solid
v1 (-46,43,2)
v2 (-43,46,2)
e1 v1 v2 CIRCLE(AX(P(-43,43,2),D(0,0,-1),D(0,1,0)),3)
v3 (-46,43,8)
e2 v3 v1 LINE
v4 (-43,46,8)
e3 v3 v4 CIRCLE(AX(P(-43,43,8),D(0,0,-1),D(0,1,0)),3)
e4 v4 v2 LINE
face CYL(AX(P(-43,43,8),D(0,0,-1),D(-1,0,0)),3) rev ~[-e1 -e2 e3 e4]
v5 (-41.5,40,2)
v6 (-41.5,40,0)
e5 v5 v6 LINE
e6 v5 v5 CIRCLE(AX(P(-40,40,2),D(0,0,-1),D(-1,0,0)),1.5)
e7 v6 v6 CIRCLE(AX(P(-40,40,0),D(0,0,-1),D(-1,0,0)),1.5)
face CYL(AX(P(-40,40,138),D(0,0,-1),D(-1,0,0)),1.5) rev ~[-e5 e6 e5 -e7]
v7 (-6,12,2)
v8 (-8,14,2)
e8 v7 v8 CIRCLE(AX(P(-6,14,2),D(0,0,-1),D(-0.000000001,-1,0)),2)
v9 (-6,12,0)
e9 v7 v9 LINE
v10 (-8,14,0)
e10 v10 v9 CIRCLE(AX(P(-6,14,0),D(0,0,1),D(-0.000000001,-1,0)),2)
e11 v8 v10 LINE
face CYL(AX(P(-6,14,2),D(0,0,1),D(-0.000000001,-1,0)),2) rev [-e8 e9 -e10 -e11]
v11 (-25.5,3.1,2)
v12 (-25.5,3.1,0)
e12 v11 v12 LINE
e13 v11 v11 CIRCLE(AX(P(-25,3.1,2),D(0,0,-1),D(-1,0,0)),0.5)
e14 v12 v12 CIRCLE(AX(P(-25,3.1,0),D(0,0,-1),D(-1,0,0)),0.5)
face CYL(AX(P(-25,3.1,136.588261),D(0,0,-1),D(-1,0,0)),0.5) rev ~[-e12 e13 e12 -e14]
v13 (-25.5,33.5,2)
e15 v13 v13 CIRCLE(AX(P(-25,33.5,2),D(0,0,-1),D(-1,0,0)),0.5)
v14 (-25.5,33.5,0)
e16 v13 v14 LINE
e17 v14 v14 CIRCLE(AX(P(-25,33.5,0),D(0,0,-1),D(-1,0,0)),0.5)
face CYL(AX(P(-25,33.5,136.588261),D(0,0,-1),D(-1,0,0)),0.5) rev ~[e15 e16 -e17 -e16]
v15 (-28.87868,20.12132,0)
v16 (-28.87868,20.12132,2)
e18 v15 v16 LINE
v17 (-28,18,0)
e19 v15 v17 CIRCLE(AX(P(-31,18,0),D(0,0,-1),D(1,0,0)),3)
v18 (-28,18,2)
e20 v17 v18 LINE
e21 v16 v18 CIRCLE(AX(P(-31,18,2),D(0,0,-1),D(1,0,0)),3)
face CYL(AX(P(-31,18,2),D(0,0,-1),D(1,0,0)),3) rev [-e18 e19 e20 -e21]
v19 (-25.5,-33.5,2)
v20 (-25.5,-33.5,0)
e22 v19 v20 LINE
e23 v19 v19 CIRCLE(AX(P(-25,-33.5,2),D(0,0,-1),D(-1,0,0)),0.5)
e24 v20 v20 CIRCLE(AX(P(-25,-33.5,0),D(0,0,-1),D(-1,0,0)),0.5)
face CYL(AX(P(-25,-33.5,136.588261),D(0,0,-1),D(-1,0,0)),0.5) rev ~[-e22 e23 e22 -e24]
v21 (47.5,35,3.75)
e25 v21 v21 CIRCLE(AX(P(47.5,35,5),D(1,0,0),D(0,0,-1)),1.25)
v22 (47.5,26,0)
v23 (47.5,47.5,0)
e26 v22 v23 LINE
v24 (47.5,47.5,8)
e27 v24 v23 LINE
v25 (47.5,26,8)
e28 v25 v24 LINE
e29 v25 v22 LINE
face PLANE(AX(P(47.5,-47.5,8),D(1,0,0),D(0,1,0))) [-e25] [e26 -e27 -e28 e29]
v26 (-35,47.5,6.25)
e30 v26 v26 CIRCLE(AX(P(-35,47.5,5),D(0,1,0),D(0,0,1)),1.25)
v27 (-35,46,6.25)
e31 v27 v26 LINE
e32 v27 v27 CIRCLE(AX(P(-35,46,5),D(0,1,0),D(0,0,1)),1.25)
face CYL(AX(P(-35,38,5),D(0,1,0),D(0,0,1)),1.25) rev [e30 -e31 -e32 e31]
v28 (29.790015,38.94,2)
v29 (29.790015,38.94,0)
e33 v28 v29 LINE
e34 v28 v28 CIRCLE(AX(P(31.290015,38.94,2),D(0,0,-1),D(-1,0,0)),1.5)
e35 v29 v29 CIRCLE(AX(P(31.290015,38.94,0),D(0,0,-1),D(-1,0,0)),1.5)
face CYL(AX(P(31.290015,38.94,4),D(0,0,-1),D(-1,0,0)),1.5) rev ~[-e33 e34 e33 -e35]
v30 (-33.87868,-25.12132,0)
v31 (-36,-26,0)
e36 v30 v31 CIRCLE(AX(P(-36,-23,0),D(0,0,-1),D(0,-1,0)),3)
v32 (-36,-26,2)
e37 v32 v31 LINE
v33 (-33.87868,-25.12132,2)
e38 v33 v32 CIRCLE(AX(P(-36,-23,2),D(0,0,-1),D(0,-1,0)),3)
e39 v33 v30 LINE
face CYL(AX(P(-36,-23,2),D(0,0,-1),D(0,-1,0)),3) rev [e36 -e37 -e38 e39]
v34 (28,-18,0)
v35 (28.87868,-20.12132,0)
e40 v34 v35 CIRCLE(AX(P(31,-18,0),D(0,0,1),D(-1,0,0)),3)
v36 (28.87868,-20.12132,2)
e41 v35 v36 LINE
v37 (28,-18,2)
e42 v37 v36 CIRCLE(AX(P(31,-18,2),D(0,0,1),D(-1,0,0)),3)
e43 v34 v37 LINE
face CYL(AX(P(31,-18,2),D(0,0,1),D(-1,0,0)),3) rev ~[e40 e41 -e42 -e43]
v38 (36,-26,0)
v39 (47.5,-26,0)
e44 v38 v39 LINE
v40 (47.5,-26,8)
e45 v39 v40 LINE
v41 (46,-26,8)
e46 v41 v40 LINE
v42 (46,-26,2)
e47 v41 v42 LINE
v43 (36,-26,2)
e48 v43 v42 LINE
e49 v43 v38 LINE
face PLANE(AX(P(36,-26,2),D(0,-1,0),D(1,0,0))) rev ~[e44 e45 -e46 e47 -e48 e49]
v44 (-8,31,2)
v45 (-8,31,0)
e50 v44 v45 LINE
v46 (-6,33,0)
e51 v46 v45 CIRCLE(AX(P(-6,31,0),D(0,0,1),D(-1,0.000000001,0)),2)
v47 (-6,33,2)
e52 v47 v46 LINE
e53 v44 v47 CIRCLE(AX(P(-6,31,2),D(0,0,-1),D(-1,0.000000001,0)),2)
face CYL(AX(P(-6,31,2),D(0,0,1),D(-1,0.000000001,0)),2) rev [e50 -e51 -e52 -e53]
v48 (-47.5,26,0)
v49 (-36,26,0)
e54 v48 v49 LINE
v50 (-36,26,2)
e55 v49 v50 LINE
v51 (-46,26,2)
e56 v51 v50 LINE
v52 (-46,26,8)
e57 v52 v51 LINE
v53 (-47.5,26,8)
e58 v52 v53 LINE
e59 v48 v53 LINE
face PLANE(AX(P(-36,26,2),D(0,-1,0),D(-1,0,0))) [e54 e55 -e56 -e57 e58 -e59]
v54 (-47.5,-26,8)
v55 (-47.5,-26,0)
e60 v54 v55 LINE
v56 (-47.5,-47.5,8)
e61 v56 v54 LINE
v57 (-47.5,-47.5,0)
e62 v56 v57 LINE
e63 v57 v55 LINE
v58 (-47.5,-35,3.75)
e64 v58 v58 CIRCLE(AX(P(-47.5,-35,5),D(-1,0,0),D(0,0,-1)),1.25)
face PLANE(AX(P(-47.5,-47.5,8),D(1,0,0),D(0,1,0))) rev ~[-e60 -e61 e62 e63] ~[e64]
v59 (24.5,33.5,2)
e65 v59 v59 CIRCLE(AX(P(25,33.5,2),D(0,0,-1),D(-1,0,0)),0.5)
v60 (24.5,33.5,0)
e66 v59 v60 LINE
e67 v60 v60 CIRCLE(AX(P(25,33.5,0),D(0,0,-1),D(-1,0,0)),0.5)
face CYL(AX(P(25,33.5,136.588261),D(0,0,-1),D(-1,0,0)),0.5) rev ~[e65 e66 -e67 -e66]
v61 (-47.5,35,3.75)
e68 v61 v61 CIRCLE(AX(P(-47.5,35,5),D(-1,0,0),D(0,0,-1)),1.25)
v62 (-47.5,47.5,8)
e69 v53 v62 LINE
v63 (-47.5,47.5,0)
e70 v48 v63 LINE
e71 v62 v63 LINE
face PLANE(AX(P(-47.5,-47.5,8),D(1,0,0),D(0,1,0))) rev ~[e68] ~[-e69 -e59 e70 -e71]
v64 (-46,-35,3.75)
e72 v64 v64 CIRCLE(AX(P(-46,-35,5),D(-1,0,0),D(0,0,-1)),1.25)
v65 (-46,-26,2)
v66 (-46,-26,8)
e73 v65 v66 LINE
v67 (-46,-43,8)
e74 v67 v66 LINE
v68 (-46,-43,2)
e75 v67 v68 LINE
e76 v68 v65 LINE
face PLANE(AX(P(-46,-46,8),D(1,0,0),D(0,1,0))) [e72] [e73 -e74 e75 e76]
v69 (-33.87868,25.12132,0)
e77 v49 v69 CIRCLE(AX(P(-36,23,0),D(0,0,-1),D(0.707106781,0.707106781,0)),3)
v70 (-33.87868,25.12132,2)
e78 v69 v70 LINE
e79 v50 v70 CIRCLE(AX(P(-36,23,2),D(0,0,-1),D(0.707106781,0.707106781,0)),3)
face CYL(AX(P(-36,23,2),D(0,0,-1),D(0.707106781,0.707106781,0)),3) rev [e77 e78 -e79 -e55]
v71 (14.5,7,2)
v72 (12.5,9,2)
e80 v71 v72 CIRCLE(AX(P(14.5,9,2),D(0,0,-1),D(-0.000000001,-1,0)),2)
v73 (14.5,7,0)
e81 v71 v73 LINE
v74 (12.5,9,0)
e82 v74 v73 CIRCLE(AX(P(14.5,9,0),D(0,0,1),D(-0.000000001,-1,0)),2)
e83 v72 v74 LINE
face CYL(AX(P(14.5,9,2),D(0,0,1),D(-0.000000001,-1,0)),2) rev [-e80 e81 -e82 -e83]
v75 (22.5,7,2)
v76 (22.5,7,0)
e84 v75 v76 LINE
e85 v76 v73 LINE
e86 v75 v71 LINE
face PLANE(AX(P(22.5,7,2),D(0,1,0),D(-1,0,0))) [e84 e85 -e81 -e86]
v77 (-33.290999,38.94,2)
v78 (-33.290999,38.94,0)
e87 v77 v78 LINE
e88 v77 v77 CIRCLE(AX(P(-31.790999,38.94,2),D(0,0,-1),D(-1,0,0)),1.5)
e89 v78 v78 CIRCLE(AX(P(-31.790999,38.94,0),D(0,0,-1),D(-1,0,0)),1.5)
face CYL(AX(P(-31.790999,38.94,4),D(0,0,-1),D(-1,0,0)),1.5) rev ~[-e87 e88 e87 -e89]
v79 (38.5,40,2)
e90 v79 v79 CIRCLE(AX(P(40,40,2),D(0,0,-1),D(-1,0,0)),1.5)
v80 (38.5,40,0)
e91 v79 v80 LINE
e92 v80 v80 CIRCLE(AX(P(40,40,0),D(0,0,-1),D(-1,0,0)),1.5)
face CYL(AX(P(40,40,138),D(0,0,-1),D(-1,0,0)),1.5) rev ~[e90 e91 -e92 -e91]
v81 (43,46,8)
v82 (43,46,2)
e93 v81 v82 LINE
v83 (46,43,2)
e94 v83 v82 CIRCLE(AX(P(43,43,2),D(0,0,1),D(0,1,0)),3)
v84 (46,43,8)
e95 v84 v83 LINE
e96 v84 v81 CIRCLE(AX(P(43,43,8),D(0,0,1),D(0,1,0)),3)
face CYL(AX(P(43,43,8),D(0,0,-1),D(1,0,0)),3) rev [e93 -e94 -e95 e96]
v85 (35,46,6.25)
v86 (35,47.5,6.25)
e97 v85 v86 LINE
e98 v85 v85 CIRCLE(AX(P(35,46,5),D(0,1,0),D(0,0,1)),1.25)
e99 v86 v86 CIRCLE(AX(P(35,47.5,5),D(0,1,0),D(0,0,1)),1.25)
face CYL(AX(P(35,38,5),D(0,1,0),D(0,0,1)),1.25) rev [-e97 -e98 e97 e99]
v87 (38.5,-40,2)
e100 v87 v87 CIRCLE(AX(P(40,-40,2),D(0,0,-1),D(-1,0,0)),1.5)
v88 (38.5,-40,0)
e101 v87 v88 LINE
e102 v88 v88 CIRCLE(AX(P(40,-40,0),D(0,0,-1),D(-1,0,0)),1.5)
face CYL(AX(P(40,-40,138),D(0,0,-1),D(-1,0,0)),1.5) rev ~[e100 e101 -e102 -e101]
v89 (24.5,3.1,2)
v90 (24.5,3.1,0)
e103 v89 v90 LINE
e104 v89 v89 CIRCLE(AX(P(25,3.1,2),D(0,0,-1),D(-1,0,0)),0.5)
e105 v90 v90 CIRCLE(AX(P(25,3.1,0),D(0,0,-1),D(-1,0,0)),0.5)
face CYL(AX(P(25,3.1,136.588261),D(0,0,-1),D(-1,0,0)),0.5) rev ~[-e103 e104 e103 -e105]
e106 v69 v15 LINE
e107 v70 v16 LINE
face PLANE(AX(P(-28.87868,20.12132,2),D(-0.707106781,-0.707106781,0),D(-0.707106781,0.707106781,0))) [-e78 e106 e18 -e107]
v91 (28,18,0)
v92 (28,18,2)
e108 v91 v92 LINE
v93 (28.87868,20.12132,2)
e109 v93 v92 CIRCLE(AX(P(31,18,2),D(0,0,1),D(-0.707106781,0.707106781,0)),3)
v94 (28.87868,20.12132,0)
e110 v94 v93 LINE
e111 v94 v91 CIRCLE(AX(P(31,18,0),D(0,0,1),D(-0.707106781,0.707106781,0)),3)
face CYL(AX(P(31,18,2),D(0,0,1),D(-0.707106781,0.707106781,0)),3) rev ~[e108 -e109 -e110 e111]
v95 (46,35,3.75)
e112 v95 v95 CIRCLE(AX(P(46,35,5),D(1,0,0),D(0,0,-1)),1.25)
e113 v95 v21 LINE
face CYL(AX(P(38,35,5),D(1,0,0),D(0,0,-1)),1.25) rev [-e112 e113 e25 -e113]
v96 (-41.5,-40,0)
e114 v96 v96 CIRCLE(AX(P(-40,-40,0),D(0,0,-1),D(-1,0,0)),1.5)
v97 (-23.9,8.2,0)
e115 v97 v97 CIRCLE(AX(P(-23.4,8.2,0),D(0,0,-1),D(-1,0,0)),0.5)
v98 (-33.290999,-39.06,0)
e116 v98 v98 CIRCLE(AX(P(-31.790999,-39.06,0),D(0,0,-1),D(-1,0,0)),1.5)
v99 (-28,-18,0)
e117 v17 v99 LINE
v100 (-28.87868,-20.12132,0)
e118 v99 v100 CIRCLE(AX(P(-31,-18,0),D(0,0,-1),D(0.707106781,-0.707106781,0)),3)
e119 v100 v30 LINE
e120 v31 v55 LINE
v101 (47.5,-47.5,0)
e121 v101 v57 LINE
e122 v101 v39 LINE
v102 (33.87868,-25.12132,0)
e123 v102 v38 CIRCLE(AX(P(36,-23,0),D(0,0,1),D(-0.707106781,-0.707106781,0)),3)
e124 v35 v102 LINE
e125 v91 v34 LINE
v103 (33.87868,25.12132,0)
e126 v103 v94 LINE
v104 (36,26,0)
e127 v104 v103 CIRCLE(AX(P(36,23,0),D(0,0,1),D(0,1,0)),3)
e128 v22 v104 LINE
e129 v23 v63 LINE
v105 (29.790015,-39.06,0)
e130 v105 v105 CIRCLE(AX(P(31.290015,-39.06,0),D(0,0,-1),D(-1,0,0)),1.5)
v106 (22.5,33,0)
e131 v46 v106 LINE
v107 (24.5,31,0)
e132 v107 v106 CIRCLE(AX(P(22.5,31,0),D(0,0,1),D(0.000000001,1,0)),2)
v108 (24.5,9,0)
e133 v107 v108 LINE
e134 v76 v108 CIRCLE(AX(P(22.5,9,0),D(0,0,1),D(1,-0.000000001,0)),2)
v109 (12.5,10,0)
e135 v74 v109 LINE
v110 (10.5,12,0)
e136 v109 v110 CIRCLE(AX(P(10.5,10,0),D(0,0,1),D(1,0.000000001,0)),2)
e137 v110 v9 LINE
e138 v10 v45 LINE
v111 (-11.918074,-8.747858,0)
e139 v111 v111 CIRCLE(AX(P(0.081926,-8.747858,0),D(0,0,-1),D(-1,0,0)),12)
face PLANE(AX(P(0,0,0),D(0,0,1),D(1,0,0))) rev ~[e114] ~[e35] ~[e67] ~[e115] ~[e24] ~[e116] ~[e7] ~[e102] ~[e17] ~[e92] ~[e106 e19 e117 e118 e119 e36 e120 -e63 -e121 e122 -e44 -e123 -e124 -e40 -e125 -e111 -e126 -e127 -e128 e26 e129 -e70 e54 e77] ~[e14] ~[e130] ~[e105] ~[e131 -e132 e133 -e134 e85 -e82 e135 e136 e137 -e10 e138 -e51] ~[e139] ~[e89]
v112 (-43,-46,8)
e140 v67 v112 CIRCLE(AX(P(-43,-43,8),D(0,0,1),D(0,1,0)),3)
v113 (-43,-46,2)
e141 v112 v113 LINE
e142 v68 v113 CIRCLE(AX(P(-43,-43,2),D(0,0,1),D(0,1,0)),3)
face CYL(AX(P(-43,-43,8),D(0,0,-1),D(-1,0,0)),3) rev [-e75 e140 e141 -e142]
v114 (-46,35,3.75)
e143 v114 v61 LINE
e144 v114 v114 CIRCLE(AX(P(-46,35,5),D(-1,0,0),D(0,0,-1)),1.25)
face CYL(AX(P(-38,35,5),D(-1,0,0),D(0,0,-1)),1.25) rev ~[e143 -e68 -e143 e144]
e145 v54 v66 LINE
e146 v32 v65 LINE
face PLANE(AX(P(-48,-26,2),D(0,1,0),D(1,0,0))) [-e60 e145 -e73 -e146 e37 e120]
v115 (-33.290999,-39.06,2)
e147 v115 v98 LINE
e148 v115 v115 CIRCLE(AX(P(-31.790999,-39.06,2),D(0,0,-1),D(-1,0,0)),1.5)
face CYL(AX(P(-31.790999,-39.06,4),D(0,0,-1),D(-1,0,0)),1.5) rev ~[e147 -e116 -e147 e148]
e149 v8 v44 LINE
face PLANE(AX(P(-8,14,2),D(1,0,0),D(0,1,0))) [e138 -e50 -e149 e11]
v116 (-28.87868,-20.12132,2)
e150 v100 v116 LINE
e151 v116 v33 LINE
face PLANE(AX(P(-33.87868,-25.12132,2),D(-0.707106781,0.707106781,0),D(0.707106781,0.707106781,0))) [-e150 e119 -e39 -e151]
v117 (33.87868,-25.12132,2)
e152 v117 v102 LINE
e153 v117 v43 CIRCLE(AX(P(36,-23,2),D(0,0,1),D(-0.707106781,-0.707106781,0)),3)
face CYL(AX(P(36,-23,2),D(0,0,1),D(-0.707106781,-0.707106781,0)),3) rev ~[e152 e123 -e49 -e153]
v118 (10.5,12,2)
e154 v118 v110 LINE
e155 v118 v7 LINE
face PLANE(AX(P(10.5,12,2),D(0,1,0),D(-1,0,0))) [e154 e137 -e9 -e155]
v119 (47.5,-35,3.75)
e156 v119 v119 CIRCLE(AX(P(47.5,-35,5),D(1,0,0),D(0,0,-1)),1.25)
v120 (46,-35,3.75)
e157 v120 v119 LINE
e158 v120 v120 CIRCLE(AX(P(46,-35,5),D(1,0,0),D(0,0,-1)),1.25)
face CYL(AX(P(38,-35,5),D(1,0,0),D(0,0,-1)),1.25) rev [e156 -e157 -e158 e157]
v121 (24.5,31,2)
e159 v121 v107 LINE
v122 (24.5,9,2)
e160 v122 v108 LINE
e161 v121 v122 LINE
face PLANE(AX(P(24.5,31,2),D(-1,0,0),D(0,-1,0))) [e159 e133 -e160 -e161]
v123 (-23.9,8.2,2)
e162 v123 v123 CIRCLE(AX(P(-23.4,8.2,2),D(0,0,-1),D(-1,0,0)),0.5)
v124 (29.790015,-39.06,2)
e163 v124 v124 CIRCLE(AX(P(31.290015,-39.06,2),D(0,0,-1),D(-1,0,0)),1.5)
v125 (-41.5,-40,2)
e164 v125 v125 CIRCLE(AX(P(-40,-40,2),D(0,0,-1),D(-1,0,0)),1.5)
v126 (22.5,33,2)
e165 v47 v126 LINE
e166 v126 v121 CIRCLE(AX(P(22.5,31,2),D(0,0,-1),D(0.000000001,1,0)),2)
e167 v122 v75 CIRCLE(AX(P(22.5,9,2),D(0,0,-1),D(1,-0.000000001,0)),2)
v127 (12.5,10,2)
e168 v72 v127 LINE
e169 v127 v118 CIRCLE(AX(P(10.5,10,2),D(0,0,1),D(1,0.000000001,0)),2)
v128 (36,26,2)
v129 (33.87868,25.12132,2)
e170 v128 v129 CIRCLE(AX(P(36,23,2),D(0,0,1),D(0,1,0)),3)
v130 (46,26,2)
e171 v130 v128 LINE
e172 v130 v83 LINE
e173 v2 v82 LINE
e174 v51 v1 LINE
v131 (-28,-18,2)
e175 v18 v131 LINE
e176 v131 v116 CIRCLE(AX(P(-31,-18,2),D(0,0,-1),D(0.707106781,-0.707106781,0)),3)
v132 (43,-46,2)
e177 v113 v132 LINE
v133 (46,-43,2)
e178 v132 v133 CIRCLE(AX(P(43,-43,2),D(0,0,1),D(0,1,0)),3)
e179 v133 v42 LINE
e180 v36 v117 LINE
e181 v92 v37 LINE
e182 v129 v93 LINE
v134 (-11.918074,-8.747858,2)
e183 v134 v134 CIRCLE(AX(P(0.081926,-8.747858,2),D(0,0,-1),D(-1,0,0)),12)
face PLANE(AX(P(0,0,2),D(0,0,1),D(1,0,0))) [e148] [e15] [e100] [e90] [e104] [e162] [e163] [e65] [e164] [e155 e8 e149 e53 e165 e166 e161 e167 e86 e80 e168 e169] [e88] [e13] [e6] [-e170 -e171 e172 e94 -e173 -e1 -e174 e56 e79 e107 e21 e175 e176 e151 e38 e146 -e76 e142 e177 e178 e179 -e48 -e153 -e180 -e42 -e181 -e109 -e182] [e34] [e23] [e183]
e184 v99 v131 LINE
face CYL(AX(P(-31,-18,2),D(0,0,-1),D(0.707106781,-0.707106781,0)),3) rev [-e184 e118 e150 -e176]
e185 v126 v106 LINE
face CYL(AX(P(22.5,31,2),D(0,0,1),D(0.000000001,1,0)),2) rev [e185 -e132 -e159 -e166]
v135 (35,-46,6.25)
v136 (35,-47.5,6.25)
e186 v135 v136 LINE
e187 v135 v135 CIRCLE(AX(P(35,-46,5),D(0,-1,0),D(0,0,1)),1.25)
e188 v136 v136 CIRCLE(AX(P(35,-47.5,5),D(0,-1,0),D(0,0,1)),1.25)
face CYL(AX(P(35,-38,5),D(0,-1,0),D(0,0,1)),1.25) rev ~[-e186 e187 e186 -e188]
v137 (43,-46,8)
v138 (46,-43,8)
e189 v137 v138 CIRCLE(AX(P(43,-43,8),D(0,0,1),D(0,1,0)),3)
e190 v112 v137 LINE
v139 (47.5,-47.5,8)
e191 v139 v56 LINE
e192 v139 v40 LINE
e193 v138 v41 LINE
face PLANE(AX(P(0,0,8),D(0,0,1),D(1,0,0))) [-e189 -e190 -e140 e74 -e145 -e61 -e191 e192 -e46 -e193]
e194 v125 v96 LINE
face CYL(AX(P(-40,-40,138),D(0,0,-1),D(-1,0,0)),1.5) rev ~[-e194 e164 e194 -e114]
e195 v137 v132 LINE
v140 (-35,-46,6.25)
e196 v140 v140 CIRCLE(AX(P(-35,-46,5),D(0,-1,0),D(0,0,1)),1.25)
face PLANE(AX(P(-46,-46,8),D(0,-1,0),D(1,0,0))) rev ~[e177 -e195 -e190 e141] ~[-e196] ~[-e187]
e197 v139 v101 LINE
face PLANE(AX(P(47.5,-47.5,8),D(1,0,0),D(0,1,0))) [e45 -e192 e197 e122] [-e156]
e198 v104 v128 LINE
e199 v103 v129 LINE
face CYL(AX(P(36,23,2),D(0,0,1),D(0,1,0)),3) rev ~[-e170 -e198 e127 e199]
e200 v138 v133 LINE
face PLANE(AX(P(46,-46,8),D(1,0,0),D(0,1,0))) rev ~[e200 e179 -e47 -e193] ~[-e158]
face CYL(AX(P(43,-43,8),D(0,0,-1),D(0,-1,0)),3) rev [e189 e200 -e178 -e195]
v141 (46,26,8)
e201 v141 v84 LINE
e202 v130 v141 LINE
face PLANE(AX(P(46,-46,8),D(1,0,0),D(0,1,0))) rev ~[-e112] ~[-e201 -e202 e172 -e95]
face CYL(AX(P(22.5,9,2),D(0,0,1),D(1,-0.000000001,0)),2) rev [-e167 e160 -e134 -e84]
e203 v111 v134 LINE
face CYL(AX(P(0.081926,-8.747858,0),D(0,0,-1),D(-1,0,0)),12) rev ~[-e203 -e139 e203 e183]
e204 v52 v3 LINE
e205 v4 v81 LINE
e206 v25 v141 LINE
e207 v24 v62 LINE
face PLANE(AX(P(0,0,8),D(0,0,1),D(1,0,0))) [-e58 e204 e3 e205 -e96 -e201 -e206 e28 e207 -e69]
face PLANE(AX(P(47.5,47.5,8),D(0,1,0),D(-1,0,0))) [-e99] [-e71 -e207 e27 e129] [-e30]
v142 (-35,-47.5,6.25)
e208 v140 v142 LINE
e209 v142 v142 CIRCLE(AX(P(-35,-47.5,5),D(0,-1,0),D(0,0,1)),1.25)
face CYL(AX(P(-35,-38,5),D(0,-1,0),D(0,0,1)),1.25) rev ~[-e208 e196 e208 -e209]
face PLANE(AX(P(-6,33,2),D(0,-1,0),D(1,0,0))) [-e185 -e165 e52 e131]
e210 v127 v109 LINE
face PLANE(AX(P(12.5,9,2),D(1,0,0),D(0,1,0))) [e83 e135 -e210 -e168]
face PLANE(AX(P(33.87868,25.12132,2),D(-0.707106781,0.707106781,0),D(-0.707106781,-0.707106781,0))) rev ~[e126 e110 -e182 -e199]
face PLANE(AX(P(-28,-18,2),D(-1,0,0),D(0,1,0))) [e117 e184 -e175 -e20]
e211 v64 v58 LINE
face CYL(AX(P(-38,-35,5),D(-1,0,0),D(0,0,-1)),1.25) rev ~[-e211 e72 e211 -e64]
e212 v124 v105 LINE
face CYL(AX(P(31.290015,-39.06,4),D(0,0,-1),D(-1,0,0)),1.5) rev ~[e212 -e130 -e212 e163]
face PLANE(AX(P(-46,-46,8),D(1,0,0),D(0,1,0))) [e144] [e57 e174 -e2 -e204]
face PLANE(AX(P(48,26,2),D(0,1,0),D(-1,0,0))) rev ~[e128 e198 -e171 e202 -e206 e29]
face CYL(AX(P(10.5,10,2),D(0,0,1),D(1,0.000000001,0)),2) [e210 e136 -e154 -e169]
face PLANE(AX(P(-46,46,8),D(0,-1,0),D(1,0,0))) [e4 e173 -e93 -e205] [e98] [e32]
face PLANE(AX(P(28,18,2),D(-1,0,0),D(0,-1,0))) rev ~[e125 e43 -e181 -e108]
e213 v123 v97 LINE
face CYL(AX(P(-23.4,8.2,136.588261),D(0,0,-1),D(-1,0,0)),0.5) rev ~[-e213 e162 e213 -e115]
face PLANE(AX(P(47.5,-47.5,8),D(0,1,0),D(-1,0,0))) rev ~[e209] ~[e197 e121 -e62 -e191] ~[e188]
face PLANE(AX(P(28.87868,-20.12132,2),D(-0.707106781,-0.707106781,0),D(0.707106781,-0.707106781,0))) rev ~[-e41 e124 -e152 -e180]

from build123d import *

# Parameters (mm, degrees)
SKETCH1_W                      = 96
SKETCH1_H                      = 96
BOSS_EXTRUDE1_DEPTH            = 8
SKETCH2_W                      = 92
SKETCH2_H                      = 92
COMPONENT_PLATFORM_DEPTH       = 6
CABLE_SLOTS_DEPTH              = 6
INNER_CORNER_FILLETS_R         = 3
M3X0_5_TAPPED_HOLE1_AT_2_COUNT = 2
M3X0_5_TAPPED_HOLE1_AT_2_PITCH = 70
M3X0_5_TAPPED_HOLE2_AT_2_COUNT = 2
M3X0_5_TAPPED_HOLE2_AT_2_PITCH = 70
SKETCH29_R                     = 12
HDD_EXTRUSION_CUTOUT_DEPTH     = 10
HDD_EXTRUSION_CUTOUT_2_DEPTH   = 10
F_3_0MM_DOWEL_HOLE1_D          = 3
F_3_0MM_DOWEL_HOLE1_DEPTH      = 2
F_3_0MM_DOWEL_HOLE2_D          = 3
CUT_EXTRUDE1_START             = -8
SKETCH35_OUTSIDE_W             = 125.2
SKETCH35_OUTSIDE_H             = 125.2
SKETCH35_OUTSIDE_W_2           = 95
SKETCH35_OUTSIDE_H_2           = 95
CUT_EXTRUDE1_DEPTH             = 8
M1_6_CLEARANCE_HOLE2_D         = 1


with BuildPart() as part:
    # Sketch1 → Boss-Extrude1 (new body)
    with BuildSketch(Plane.XY):
        Rectangle(SKETCH1_W, SKETCH1_H)
    extrude(amount=BOSS_EXTRUDE1_DEPTH)

    # Sketch2 → Component Platform (cut)
    with BuildSketch(Plane.XY.offset(8)):
        Rectangle(SKETCH2_W, SKETCH2_H)
    extrude(amount=-COMPONENT_PLATFORM_DEPTH, mode=Mode.SUBTRACT)

    # Sketch3 → Cable Slots (cut, symmetric)
    with BuildSketch(Plane.XY.offset(2)):
        with BuildLine():
            Line((-33.878679656, -25.121320344), (-28.878679656, -20.121320344))
            ThreePointArc((-28.878679656, -20.121320344), (-28.228361402, -19.148050297), (-28, -18))
            Line((-28, -18), (-28, 18))
            ThreePointArc((-28, 18), (-28.228361402, 19.148050297), (-28.878679656, 20.121320344))
            Line((-28.878679656, 20.121320344), (-33.878679656, 25.121320344))
            ThreePointArc((-33.878679656, 25.121320344), (-34.851949703, 25.771638598), (-36, 26))
            Line((-36, 26), (-48, 26))
            Line((-48, 26), (-48, -26))
            Line((-48, -26), (-36, -26))
            ThreePointArc((-36, -26), (-34.851949703, -25.771638598), (-33.878679656, -25.121320344))
        make_face()
        with BuildLine():
            Line((48, -26), (48, 26))
            Line((48, 26), (36, 26))
            ThreePointArc((36, 26), (34.851949703, 25.771638598), (33.878679656, 25.121320344))
            Line((33.878679656, 25.121320344), (28.878679656, 20.121320344))
            ThreePointArc((28.878679656, 20.121320344), (28.228361402, 19.148050297), (28, 18))
            Line((28, 18), (28, -18))
            ThreePointArc((28, -18), (28.228361402, -19.148050297), (28.878679656, -20.121320344))
            Line((28.878679656, -20.121320344), (33.878679656, -25.121320344))
            ThreePointArc((33.878679656, -25.121320344), (34.851949703, -25.771638598), (36, -26))
            Line((36, -26), (48, -26))
        make_face()
    extrude(amount=CABLE_SLOTS_DEPTH, both=True, mode=Mode.SUBTRACT)

    # Inner Corner Fillets
    inner_corner_fillets_edges = [part.edges().sort_by_distance(p)[0] for p in [
        (-46, -46, 5),
        (-46, 46, 5),
        (46, 46, 5),
        (46, -46, 5),
    ]]
    fillet(inner_corner_fillets_edges, radius=INNER_CORNER_FILLETS_R)

    # Sketch14 → M3x0.5 Tapped Hole1 (revolve, cut)
    with BuildSketch(Plane(origin=(48, -35, 5), x_dir=(0, 0, -1), z_dir=(0, 1, 0))):
        Polygon((0, 0), (0, 10.751075774), (1.25, 10), (1.25, 0), align=None)
    m3x0_5_tapped_hole1 = revolve(axis=Axis((54.35, -35, 5), (-1, 0, 0)), mode=Mode.SUBTRACT)

    # M3x0.5 Tapped Hole1 at 2: M3x0.5 Tapped Hole1 ×2
    with Locations(*[(0, i * M3X0_5_TAPPED_HOLE1_AT_2_PITCH, 0) for i in range(1, M3X0_5_TAPPED_HOLE1_AT_2_COUNT)]):
        add(m3x0_5_tapped_hole1, mode=Mode.SUBTRACT)

    # Sketch16 → M3x0.5 Tapped Hole2 (revolve, cut)
    with BuildSketch(Plane(origin=(35, 48, 5), x_dir=(0, 0, 1), z_dir=(1, 0, 0))):
        Polygon((0, 0), (0, 10.751075774), (1.25, 10), (1.25, 0), align=None)
    m3x0_5_tapped_hole2 = revolve(axis=Axis((35, 54.35, 5), (0, -1, 0)), mode=Mode.SUBTRACT)

    # M3x0.5 Tapped Hole2 at 2: M3x0.5 Tapped Hole2 ×2
    with Locations(*[(-i * M3X0_5_TAPPED_HOLE2_AT_2_PITCH, 0, 0) for i in range(1, M3X0_5_TAPPED_HOLE2_AT_2_COUNT)]):
        add(m3x0_5_tapped_hole2, mode=Mode.SUBTRACT)

    # Mirror1: M3x0.5 Tapped Hole1 across plane
    add(m3x0_5_tapped_hole1.mirror(Plane(origin=(0, 0, 0), x_dir=(0, 0, 1), z_dir=(1, 0, 0))), mode=Mode.SUBTRACT)

    # Mirror1 copy 1 sketch → Mirror1 copy 1 (revolve, cut)
    with BuildSketch(Plane(origin=(-48, 35, 5), x_dir=(0, 0, -1), z_dir=(0, 1, 0))):
        Polygon((0, 0), (0, -10.751075774), (1.25, -10), (1.25, 0), align=None)
    revolve(axis=Axis((-54.35, 35, 5), (-1, 0, 0)), mode=Mode.SUBTRACT)

    # Mirror2: M3x0.5 Tapped Hole2 across plane
    add(m3x0_5_tapped_hole2.mirror(Plane(origin=(0, 0, 0), x_dir=(0, 0, 1), z_dir=(0, -1, 0))), mode=Mode.SUBTRACT)

    # Mirror2 copy 1 sketch → Mirror2 copy 1 (revolve, cut)
    with BuildSketch(Plane(origin=(-35, -48, 5), x_dir=(0, 0, 1), z_dir=(1, 0, 0))):
        Polygon((0, 0), (0, -10.751075774), (1.25, -10), (1.25, 0), align=None)
    revolve(axis=Axis((-35, -54.35, 5), (0, -1, 0)), mode=Mode.SUBTRACT)

    # Sketch29 → HDD Extrusion Cutout (cut)
    with BuildSketch(Plane(origin=(0, 0, 0), x_dir=(-1, 0, 0), z_dir=(0, 0, -1))):
        with Locations((-0.08192631, -8.74785827)):
            Circle(SKETCH29_R)
    extrude(amount=-HDD_EXTRUSION_CUTOUT_DEPTH, mode=Mode.SUBTRACT)

    # Sketch9 → HDD Extrusion Cutout 2 (cut)
    with BuildSketch(Plane.XY.offset(2)):
        with BuildLine():
            Line((24.5, 31), (24.5, 9))
            ThreePointArc((24.5, 9), (23.914213562, 7.585786438), (22.5, 7))
            Line((22.5, 7), (14.5, 7))
            ThreePointArc((14.5, 7), (13.085786438, 7.585786438), (12.5, 9))
            Line((12.5, 9), (12.5, 10))
            ThreePointArc((12.5, 10), (11.914213562, 11.414213562), (10.5, 12))
            Line((10.5, 12), (-6, 12))
            ThreePointArc((-6, 12), (-7.414213562, 12.585786438), (-8, 14))
            Line((-8, 14), (-8, 31))
            ThreePointArc((-8, 31), (-7.414213562, 32.414213562), (-6, 33))
            Line((-6, 33), (22.5, 33))
            ThreePointArc((22.5, 33), (23.914213562, 32.414213562), (24.5, 31))
        make_face()
    extrude(amount=-HDD_EXTRUSION_CUTOUT_2_DEPTH, mode=Mode.SUBTRACT)

    # Ø3.0mm Dowel Hole1
    with Locations(Plane.XY.offset(2)):
        with Locations((-31.790998517, -39.06), (31.29001483, -39.06), (31.29001483, 38.94), (-31.790998517, 38.94)):
            Hole(F_3_0MM_DOWEL_HOLE1_D / 2, depth=F_3_0MM_DOWEL_HOLE1_DEPTH)

    # Ø3.0mm Dowel Hole2 (through all)
    with Locations(Plane.XY.offset(2)):
        with Locations((40, -40), (-40, -40), (-40, 40), (40, 40)):
            Hole(F_3_0MM_DOWEL_HOLE2_D / 2)

    # Sketch35 outside → Cut-Extrude1 (cut)
    with BuildSketch(Plane(origin=(0, 0, 0), x_dir=(-1, 0, 0), z_dir=(0, 0, -1)).offset(CUT_EXTRUDE1_START)):
        Rectangle(SKETCH35_OUTSIDE_W, SKETCH35_OUTSIDE_H)
        Rectangle(SKETCH35_OUTSIDE_W_2, SKETCH35_OUTSIDE_H_2, mode=Mode.SUBTRACT)
    extrude(amount=CUT_EXTRUDE1_DEPTH, mode=Mode.SUBTRACT)

    # M1.6 Clearance Hole2 (through all)
    with Locations(Plane(origin=(-25, -33.5, 2), x_dir=(1, 0, 0), z_dir=(0, 0, 1))):
        with Locations((0, 0), (0, 36.6), (1.6, 41.7), (0, 67), (50, 67), (50, 36.6)):
            Hole(M1_6_CLEARANCE_HOLE2_D / 2)


solid = part.part
